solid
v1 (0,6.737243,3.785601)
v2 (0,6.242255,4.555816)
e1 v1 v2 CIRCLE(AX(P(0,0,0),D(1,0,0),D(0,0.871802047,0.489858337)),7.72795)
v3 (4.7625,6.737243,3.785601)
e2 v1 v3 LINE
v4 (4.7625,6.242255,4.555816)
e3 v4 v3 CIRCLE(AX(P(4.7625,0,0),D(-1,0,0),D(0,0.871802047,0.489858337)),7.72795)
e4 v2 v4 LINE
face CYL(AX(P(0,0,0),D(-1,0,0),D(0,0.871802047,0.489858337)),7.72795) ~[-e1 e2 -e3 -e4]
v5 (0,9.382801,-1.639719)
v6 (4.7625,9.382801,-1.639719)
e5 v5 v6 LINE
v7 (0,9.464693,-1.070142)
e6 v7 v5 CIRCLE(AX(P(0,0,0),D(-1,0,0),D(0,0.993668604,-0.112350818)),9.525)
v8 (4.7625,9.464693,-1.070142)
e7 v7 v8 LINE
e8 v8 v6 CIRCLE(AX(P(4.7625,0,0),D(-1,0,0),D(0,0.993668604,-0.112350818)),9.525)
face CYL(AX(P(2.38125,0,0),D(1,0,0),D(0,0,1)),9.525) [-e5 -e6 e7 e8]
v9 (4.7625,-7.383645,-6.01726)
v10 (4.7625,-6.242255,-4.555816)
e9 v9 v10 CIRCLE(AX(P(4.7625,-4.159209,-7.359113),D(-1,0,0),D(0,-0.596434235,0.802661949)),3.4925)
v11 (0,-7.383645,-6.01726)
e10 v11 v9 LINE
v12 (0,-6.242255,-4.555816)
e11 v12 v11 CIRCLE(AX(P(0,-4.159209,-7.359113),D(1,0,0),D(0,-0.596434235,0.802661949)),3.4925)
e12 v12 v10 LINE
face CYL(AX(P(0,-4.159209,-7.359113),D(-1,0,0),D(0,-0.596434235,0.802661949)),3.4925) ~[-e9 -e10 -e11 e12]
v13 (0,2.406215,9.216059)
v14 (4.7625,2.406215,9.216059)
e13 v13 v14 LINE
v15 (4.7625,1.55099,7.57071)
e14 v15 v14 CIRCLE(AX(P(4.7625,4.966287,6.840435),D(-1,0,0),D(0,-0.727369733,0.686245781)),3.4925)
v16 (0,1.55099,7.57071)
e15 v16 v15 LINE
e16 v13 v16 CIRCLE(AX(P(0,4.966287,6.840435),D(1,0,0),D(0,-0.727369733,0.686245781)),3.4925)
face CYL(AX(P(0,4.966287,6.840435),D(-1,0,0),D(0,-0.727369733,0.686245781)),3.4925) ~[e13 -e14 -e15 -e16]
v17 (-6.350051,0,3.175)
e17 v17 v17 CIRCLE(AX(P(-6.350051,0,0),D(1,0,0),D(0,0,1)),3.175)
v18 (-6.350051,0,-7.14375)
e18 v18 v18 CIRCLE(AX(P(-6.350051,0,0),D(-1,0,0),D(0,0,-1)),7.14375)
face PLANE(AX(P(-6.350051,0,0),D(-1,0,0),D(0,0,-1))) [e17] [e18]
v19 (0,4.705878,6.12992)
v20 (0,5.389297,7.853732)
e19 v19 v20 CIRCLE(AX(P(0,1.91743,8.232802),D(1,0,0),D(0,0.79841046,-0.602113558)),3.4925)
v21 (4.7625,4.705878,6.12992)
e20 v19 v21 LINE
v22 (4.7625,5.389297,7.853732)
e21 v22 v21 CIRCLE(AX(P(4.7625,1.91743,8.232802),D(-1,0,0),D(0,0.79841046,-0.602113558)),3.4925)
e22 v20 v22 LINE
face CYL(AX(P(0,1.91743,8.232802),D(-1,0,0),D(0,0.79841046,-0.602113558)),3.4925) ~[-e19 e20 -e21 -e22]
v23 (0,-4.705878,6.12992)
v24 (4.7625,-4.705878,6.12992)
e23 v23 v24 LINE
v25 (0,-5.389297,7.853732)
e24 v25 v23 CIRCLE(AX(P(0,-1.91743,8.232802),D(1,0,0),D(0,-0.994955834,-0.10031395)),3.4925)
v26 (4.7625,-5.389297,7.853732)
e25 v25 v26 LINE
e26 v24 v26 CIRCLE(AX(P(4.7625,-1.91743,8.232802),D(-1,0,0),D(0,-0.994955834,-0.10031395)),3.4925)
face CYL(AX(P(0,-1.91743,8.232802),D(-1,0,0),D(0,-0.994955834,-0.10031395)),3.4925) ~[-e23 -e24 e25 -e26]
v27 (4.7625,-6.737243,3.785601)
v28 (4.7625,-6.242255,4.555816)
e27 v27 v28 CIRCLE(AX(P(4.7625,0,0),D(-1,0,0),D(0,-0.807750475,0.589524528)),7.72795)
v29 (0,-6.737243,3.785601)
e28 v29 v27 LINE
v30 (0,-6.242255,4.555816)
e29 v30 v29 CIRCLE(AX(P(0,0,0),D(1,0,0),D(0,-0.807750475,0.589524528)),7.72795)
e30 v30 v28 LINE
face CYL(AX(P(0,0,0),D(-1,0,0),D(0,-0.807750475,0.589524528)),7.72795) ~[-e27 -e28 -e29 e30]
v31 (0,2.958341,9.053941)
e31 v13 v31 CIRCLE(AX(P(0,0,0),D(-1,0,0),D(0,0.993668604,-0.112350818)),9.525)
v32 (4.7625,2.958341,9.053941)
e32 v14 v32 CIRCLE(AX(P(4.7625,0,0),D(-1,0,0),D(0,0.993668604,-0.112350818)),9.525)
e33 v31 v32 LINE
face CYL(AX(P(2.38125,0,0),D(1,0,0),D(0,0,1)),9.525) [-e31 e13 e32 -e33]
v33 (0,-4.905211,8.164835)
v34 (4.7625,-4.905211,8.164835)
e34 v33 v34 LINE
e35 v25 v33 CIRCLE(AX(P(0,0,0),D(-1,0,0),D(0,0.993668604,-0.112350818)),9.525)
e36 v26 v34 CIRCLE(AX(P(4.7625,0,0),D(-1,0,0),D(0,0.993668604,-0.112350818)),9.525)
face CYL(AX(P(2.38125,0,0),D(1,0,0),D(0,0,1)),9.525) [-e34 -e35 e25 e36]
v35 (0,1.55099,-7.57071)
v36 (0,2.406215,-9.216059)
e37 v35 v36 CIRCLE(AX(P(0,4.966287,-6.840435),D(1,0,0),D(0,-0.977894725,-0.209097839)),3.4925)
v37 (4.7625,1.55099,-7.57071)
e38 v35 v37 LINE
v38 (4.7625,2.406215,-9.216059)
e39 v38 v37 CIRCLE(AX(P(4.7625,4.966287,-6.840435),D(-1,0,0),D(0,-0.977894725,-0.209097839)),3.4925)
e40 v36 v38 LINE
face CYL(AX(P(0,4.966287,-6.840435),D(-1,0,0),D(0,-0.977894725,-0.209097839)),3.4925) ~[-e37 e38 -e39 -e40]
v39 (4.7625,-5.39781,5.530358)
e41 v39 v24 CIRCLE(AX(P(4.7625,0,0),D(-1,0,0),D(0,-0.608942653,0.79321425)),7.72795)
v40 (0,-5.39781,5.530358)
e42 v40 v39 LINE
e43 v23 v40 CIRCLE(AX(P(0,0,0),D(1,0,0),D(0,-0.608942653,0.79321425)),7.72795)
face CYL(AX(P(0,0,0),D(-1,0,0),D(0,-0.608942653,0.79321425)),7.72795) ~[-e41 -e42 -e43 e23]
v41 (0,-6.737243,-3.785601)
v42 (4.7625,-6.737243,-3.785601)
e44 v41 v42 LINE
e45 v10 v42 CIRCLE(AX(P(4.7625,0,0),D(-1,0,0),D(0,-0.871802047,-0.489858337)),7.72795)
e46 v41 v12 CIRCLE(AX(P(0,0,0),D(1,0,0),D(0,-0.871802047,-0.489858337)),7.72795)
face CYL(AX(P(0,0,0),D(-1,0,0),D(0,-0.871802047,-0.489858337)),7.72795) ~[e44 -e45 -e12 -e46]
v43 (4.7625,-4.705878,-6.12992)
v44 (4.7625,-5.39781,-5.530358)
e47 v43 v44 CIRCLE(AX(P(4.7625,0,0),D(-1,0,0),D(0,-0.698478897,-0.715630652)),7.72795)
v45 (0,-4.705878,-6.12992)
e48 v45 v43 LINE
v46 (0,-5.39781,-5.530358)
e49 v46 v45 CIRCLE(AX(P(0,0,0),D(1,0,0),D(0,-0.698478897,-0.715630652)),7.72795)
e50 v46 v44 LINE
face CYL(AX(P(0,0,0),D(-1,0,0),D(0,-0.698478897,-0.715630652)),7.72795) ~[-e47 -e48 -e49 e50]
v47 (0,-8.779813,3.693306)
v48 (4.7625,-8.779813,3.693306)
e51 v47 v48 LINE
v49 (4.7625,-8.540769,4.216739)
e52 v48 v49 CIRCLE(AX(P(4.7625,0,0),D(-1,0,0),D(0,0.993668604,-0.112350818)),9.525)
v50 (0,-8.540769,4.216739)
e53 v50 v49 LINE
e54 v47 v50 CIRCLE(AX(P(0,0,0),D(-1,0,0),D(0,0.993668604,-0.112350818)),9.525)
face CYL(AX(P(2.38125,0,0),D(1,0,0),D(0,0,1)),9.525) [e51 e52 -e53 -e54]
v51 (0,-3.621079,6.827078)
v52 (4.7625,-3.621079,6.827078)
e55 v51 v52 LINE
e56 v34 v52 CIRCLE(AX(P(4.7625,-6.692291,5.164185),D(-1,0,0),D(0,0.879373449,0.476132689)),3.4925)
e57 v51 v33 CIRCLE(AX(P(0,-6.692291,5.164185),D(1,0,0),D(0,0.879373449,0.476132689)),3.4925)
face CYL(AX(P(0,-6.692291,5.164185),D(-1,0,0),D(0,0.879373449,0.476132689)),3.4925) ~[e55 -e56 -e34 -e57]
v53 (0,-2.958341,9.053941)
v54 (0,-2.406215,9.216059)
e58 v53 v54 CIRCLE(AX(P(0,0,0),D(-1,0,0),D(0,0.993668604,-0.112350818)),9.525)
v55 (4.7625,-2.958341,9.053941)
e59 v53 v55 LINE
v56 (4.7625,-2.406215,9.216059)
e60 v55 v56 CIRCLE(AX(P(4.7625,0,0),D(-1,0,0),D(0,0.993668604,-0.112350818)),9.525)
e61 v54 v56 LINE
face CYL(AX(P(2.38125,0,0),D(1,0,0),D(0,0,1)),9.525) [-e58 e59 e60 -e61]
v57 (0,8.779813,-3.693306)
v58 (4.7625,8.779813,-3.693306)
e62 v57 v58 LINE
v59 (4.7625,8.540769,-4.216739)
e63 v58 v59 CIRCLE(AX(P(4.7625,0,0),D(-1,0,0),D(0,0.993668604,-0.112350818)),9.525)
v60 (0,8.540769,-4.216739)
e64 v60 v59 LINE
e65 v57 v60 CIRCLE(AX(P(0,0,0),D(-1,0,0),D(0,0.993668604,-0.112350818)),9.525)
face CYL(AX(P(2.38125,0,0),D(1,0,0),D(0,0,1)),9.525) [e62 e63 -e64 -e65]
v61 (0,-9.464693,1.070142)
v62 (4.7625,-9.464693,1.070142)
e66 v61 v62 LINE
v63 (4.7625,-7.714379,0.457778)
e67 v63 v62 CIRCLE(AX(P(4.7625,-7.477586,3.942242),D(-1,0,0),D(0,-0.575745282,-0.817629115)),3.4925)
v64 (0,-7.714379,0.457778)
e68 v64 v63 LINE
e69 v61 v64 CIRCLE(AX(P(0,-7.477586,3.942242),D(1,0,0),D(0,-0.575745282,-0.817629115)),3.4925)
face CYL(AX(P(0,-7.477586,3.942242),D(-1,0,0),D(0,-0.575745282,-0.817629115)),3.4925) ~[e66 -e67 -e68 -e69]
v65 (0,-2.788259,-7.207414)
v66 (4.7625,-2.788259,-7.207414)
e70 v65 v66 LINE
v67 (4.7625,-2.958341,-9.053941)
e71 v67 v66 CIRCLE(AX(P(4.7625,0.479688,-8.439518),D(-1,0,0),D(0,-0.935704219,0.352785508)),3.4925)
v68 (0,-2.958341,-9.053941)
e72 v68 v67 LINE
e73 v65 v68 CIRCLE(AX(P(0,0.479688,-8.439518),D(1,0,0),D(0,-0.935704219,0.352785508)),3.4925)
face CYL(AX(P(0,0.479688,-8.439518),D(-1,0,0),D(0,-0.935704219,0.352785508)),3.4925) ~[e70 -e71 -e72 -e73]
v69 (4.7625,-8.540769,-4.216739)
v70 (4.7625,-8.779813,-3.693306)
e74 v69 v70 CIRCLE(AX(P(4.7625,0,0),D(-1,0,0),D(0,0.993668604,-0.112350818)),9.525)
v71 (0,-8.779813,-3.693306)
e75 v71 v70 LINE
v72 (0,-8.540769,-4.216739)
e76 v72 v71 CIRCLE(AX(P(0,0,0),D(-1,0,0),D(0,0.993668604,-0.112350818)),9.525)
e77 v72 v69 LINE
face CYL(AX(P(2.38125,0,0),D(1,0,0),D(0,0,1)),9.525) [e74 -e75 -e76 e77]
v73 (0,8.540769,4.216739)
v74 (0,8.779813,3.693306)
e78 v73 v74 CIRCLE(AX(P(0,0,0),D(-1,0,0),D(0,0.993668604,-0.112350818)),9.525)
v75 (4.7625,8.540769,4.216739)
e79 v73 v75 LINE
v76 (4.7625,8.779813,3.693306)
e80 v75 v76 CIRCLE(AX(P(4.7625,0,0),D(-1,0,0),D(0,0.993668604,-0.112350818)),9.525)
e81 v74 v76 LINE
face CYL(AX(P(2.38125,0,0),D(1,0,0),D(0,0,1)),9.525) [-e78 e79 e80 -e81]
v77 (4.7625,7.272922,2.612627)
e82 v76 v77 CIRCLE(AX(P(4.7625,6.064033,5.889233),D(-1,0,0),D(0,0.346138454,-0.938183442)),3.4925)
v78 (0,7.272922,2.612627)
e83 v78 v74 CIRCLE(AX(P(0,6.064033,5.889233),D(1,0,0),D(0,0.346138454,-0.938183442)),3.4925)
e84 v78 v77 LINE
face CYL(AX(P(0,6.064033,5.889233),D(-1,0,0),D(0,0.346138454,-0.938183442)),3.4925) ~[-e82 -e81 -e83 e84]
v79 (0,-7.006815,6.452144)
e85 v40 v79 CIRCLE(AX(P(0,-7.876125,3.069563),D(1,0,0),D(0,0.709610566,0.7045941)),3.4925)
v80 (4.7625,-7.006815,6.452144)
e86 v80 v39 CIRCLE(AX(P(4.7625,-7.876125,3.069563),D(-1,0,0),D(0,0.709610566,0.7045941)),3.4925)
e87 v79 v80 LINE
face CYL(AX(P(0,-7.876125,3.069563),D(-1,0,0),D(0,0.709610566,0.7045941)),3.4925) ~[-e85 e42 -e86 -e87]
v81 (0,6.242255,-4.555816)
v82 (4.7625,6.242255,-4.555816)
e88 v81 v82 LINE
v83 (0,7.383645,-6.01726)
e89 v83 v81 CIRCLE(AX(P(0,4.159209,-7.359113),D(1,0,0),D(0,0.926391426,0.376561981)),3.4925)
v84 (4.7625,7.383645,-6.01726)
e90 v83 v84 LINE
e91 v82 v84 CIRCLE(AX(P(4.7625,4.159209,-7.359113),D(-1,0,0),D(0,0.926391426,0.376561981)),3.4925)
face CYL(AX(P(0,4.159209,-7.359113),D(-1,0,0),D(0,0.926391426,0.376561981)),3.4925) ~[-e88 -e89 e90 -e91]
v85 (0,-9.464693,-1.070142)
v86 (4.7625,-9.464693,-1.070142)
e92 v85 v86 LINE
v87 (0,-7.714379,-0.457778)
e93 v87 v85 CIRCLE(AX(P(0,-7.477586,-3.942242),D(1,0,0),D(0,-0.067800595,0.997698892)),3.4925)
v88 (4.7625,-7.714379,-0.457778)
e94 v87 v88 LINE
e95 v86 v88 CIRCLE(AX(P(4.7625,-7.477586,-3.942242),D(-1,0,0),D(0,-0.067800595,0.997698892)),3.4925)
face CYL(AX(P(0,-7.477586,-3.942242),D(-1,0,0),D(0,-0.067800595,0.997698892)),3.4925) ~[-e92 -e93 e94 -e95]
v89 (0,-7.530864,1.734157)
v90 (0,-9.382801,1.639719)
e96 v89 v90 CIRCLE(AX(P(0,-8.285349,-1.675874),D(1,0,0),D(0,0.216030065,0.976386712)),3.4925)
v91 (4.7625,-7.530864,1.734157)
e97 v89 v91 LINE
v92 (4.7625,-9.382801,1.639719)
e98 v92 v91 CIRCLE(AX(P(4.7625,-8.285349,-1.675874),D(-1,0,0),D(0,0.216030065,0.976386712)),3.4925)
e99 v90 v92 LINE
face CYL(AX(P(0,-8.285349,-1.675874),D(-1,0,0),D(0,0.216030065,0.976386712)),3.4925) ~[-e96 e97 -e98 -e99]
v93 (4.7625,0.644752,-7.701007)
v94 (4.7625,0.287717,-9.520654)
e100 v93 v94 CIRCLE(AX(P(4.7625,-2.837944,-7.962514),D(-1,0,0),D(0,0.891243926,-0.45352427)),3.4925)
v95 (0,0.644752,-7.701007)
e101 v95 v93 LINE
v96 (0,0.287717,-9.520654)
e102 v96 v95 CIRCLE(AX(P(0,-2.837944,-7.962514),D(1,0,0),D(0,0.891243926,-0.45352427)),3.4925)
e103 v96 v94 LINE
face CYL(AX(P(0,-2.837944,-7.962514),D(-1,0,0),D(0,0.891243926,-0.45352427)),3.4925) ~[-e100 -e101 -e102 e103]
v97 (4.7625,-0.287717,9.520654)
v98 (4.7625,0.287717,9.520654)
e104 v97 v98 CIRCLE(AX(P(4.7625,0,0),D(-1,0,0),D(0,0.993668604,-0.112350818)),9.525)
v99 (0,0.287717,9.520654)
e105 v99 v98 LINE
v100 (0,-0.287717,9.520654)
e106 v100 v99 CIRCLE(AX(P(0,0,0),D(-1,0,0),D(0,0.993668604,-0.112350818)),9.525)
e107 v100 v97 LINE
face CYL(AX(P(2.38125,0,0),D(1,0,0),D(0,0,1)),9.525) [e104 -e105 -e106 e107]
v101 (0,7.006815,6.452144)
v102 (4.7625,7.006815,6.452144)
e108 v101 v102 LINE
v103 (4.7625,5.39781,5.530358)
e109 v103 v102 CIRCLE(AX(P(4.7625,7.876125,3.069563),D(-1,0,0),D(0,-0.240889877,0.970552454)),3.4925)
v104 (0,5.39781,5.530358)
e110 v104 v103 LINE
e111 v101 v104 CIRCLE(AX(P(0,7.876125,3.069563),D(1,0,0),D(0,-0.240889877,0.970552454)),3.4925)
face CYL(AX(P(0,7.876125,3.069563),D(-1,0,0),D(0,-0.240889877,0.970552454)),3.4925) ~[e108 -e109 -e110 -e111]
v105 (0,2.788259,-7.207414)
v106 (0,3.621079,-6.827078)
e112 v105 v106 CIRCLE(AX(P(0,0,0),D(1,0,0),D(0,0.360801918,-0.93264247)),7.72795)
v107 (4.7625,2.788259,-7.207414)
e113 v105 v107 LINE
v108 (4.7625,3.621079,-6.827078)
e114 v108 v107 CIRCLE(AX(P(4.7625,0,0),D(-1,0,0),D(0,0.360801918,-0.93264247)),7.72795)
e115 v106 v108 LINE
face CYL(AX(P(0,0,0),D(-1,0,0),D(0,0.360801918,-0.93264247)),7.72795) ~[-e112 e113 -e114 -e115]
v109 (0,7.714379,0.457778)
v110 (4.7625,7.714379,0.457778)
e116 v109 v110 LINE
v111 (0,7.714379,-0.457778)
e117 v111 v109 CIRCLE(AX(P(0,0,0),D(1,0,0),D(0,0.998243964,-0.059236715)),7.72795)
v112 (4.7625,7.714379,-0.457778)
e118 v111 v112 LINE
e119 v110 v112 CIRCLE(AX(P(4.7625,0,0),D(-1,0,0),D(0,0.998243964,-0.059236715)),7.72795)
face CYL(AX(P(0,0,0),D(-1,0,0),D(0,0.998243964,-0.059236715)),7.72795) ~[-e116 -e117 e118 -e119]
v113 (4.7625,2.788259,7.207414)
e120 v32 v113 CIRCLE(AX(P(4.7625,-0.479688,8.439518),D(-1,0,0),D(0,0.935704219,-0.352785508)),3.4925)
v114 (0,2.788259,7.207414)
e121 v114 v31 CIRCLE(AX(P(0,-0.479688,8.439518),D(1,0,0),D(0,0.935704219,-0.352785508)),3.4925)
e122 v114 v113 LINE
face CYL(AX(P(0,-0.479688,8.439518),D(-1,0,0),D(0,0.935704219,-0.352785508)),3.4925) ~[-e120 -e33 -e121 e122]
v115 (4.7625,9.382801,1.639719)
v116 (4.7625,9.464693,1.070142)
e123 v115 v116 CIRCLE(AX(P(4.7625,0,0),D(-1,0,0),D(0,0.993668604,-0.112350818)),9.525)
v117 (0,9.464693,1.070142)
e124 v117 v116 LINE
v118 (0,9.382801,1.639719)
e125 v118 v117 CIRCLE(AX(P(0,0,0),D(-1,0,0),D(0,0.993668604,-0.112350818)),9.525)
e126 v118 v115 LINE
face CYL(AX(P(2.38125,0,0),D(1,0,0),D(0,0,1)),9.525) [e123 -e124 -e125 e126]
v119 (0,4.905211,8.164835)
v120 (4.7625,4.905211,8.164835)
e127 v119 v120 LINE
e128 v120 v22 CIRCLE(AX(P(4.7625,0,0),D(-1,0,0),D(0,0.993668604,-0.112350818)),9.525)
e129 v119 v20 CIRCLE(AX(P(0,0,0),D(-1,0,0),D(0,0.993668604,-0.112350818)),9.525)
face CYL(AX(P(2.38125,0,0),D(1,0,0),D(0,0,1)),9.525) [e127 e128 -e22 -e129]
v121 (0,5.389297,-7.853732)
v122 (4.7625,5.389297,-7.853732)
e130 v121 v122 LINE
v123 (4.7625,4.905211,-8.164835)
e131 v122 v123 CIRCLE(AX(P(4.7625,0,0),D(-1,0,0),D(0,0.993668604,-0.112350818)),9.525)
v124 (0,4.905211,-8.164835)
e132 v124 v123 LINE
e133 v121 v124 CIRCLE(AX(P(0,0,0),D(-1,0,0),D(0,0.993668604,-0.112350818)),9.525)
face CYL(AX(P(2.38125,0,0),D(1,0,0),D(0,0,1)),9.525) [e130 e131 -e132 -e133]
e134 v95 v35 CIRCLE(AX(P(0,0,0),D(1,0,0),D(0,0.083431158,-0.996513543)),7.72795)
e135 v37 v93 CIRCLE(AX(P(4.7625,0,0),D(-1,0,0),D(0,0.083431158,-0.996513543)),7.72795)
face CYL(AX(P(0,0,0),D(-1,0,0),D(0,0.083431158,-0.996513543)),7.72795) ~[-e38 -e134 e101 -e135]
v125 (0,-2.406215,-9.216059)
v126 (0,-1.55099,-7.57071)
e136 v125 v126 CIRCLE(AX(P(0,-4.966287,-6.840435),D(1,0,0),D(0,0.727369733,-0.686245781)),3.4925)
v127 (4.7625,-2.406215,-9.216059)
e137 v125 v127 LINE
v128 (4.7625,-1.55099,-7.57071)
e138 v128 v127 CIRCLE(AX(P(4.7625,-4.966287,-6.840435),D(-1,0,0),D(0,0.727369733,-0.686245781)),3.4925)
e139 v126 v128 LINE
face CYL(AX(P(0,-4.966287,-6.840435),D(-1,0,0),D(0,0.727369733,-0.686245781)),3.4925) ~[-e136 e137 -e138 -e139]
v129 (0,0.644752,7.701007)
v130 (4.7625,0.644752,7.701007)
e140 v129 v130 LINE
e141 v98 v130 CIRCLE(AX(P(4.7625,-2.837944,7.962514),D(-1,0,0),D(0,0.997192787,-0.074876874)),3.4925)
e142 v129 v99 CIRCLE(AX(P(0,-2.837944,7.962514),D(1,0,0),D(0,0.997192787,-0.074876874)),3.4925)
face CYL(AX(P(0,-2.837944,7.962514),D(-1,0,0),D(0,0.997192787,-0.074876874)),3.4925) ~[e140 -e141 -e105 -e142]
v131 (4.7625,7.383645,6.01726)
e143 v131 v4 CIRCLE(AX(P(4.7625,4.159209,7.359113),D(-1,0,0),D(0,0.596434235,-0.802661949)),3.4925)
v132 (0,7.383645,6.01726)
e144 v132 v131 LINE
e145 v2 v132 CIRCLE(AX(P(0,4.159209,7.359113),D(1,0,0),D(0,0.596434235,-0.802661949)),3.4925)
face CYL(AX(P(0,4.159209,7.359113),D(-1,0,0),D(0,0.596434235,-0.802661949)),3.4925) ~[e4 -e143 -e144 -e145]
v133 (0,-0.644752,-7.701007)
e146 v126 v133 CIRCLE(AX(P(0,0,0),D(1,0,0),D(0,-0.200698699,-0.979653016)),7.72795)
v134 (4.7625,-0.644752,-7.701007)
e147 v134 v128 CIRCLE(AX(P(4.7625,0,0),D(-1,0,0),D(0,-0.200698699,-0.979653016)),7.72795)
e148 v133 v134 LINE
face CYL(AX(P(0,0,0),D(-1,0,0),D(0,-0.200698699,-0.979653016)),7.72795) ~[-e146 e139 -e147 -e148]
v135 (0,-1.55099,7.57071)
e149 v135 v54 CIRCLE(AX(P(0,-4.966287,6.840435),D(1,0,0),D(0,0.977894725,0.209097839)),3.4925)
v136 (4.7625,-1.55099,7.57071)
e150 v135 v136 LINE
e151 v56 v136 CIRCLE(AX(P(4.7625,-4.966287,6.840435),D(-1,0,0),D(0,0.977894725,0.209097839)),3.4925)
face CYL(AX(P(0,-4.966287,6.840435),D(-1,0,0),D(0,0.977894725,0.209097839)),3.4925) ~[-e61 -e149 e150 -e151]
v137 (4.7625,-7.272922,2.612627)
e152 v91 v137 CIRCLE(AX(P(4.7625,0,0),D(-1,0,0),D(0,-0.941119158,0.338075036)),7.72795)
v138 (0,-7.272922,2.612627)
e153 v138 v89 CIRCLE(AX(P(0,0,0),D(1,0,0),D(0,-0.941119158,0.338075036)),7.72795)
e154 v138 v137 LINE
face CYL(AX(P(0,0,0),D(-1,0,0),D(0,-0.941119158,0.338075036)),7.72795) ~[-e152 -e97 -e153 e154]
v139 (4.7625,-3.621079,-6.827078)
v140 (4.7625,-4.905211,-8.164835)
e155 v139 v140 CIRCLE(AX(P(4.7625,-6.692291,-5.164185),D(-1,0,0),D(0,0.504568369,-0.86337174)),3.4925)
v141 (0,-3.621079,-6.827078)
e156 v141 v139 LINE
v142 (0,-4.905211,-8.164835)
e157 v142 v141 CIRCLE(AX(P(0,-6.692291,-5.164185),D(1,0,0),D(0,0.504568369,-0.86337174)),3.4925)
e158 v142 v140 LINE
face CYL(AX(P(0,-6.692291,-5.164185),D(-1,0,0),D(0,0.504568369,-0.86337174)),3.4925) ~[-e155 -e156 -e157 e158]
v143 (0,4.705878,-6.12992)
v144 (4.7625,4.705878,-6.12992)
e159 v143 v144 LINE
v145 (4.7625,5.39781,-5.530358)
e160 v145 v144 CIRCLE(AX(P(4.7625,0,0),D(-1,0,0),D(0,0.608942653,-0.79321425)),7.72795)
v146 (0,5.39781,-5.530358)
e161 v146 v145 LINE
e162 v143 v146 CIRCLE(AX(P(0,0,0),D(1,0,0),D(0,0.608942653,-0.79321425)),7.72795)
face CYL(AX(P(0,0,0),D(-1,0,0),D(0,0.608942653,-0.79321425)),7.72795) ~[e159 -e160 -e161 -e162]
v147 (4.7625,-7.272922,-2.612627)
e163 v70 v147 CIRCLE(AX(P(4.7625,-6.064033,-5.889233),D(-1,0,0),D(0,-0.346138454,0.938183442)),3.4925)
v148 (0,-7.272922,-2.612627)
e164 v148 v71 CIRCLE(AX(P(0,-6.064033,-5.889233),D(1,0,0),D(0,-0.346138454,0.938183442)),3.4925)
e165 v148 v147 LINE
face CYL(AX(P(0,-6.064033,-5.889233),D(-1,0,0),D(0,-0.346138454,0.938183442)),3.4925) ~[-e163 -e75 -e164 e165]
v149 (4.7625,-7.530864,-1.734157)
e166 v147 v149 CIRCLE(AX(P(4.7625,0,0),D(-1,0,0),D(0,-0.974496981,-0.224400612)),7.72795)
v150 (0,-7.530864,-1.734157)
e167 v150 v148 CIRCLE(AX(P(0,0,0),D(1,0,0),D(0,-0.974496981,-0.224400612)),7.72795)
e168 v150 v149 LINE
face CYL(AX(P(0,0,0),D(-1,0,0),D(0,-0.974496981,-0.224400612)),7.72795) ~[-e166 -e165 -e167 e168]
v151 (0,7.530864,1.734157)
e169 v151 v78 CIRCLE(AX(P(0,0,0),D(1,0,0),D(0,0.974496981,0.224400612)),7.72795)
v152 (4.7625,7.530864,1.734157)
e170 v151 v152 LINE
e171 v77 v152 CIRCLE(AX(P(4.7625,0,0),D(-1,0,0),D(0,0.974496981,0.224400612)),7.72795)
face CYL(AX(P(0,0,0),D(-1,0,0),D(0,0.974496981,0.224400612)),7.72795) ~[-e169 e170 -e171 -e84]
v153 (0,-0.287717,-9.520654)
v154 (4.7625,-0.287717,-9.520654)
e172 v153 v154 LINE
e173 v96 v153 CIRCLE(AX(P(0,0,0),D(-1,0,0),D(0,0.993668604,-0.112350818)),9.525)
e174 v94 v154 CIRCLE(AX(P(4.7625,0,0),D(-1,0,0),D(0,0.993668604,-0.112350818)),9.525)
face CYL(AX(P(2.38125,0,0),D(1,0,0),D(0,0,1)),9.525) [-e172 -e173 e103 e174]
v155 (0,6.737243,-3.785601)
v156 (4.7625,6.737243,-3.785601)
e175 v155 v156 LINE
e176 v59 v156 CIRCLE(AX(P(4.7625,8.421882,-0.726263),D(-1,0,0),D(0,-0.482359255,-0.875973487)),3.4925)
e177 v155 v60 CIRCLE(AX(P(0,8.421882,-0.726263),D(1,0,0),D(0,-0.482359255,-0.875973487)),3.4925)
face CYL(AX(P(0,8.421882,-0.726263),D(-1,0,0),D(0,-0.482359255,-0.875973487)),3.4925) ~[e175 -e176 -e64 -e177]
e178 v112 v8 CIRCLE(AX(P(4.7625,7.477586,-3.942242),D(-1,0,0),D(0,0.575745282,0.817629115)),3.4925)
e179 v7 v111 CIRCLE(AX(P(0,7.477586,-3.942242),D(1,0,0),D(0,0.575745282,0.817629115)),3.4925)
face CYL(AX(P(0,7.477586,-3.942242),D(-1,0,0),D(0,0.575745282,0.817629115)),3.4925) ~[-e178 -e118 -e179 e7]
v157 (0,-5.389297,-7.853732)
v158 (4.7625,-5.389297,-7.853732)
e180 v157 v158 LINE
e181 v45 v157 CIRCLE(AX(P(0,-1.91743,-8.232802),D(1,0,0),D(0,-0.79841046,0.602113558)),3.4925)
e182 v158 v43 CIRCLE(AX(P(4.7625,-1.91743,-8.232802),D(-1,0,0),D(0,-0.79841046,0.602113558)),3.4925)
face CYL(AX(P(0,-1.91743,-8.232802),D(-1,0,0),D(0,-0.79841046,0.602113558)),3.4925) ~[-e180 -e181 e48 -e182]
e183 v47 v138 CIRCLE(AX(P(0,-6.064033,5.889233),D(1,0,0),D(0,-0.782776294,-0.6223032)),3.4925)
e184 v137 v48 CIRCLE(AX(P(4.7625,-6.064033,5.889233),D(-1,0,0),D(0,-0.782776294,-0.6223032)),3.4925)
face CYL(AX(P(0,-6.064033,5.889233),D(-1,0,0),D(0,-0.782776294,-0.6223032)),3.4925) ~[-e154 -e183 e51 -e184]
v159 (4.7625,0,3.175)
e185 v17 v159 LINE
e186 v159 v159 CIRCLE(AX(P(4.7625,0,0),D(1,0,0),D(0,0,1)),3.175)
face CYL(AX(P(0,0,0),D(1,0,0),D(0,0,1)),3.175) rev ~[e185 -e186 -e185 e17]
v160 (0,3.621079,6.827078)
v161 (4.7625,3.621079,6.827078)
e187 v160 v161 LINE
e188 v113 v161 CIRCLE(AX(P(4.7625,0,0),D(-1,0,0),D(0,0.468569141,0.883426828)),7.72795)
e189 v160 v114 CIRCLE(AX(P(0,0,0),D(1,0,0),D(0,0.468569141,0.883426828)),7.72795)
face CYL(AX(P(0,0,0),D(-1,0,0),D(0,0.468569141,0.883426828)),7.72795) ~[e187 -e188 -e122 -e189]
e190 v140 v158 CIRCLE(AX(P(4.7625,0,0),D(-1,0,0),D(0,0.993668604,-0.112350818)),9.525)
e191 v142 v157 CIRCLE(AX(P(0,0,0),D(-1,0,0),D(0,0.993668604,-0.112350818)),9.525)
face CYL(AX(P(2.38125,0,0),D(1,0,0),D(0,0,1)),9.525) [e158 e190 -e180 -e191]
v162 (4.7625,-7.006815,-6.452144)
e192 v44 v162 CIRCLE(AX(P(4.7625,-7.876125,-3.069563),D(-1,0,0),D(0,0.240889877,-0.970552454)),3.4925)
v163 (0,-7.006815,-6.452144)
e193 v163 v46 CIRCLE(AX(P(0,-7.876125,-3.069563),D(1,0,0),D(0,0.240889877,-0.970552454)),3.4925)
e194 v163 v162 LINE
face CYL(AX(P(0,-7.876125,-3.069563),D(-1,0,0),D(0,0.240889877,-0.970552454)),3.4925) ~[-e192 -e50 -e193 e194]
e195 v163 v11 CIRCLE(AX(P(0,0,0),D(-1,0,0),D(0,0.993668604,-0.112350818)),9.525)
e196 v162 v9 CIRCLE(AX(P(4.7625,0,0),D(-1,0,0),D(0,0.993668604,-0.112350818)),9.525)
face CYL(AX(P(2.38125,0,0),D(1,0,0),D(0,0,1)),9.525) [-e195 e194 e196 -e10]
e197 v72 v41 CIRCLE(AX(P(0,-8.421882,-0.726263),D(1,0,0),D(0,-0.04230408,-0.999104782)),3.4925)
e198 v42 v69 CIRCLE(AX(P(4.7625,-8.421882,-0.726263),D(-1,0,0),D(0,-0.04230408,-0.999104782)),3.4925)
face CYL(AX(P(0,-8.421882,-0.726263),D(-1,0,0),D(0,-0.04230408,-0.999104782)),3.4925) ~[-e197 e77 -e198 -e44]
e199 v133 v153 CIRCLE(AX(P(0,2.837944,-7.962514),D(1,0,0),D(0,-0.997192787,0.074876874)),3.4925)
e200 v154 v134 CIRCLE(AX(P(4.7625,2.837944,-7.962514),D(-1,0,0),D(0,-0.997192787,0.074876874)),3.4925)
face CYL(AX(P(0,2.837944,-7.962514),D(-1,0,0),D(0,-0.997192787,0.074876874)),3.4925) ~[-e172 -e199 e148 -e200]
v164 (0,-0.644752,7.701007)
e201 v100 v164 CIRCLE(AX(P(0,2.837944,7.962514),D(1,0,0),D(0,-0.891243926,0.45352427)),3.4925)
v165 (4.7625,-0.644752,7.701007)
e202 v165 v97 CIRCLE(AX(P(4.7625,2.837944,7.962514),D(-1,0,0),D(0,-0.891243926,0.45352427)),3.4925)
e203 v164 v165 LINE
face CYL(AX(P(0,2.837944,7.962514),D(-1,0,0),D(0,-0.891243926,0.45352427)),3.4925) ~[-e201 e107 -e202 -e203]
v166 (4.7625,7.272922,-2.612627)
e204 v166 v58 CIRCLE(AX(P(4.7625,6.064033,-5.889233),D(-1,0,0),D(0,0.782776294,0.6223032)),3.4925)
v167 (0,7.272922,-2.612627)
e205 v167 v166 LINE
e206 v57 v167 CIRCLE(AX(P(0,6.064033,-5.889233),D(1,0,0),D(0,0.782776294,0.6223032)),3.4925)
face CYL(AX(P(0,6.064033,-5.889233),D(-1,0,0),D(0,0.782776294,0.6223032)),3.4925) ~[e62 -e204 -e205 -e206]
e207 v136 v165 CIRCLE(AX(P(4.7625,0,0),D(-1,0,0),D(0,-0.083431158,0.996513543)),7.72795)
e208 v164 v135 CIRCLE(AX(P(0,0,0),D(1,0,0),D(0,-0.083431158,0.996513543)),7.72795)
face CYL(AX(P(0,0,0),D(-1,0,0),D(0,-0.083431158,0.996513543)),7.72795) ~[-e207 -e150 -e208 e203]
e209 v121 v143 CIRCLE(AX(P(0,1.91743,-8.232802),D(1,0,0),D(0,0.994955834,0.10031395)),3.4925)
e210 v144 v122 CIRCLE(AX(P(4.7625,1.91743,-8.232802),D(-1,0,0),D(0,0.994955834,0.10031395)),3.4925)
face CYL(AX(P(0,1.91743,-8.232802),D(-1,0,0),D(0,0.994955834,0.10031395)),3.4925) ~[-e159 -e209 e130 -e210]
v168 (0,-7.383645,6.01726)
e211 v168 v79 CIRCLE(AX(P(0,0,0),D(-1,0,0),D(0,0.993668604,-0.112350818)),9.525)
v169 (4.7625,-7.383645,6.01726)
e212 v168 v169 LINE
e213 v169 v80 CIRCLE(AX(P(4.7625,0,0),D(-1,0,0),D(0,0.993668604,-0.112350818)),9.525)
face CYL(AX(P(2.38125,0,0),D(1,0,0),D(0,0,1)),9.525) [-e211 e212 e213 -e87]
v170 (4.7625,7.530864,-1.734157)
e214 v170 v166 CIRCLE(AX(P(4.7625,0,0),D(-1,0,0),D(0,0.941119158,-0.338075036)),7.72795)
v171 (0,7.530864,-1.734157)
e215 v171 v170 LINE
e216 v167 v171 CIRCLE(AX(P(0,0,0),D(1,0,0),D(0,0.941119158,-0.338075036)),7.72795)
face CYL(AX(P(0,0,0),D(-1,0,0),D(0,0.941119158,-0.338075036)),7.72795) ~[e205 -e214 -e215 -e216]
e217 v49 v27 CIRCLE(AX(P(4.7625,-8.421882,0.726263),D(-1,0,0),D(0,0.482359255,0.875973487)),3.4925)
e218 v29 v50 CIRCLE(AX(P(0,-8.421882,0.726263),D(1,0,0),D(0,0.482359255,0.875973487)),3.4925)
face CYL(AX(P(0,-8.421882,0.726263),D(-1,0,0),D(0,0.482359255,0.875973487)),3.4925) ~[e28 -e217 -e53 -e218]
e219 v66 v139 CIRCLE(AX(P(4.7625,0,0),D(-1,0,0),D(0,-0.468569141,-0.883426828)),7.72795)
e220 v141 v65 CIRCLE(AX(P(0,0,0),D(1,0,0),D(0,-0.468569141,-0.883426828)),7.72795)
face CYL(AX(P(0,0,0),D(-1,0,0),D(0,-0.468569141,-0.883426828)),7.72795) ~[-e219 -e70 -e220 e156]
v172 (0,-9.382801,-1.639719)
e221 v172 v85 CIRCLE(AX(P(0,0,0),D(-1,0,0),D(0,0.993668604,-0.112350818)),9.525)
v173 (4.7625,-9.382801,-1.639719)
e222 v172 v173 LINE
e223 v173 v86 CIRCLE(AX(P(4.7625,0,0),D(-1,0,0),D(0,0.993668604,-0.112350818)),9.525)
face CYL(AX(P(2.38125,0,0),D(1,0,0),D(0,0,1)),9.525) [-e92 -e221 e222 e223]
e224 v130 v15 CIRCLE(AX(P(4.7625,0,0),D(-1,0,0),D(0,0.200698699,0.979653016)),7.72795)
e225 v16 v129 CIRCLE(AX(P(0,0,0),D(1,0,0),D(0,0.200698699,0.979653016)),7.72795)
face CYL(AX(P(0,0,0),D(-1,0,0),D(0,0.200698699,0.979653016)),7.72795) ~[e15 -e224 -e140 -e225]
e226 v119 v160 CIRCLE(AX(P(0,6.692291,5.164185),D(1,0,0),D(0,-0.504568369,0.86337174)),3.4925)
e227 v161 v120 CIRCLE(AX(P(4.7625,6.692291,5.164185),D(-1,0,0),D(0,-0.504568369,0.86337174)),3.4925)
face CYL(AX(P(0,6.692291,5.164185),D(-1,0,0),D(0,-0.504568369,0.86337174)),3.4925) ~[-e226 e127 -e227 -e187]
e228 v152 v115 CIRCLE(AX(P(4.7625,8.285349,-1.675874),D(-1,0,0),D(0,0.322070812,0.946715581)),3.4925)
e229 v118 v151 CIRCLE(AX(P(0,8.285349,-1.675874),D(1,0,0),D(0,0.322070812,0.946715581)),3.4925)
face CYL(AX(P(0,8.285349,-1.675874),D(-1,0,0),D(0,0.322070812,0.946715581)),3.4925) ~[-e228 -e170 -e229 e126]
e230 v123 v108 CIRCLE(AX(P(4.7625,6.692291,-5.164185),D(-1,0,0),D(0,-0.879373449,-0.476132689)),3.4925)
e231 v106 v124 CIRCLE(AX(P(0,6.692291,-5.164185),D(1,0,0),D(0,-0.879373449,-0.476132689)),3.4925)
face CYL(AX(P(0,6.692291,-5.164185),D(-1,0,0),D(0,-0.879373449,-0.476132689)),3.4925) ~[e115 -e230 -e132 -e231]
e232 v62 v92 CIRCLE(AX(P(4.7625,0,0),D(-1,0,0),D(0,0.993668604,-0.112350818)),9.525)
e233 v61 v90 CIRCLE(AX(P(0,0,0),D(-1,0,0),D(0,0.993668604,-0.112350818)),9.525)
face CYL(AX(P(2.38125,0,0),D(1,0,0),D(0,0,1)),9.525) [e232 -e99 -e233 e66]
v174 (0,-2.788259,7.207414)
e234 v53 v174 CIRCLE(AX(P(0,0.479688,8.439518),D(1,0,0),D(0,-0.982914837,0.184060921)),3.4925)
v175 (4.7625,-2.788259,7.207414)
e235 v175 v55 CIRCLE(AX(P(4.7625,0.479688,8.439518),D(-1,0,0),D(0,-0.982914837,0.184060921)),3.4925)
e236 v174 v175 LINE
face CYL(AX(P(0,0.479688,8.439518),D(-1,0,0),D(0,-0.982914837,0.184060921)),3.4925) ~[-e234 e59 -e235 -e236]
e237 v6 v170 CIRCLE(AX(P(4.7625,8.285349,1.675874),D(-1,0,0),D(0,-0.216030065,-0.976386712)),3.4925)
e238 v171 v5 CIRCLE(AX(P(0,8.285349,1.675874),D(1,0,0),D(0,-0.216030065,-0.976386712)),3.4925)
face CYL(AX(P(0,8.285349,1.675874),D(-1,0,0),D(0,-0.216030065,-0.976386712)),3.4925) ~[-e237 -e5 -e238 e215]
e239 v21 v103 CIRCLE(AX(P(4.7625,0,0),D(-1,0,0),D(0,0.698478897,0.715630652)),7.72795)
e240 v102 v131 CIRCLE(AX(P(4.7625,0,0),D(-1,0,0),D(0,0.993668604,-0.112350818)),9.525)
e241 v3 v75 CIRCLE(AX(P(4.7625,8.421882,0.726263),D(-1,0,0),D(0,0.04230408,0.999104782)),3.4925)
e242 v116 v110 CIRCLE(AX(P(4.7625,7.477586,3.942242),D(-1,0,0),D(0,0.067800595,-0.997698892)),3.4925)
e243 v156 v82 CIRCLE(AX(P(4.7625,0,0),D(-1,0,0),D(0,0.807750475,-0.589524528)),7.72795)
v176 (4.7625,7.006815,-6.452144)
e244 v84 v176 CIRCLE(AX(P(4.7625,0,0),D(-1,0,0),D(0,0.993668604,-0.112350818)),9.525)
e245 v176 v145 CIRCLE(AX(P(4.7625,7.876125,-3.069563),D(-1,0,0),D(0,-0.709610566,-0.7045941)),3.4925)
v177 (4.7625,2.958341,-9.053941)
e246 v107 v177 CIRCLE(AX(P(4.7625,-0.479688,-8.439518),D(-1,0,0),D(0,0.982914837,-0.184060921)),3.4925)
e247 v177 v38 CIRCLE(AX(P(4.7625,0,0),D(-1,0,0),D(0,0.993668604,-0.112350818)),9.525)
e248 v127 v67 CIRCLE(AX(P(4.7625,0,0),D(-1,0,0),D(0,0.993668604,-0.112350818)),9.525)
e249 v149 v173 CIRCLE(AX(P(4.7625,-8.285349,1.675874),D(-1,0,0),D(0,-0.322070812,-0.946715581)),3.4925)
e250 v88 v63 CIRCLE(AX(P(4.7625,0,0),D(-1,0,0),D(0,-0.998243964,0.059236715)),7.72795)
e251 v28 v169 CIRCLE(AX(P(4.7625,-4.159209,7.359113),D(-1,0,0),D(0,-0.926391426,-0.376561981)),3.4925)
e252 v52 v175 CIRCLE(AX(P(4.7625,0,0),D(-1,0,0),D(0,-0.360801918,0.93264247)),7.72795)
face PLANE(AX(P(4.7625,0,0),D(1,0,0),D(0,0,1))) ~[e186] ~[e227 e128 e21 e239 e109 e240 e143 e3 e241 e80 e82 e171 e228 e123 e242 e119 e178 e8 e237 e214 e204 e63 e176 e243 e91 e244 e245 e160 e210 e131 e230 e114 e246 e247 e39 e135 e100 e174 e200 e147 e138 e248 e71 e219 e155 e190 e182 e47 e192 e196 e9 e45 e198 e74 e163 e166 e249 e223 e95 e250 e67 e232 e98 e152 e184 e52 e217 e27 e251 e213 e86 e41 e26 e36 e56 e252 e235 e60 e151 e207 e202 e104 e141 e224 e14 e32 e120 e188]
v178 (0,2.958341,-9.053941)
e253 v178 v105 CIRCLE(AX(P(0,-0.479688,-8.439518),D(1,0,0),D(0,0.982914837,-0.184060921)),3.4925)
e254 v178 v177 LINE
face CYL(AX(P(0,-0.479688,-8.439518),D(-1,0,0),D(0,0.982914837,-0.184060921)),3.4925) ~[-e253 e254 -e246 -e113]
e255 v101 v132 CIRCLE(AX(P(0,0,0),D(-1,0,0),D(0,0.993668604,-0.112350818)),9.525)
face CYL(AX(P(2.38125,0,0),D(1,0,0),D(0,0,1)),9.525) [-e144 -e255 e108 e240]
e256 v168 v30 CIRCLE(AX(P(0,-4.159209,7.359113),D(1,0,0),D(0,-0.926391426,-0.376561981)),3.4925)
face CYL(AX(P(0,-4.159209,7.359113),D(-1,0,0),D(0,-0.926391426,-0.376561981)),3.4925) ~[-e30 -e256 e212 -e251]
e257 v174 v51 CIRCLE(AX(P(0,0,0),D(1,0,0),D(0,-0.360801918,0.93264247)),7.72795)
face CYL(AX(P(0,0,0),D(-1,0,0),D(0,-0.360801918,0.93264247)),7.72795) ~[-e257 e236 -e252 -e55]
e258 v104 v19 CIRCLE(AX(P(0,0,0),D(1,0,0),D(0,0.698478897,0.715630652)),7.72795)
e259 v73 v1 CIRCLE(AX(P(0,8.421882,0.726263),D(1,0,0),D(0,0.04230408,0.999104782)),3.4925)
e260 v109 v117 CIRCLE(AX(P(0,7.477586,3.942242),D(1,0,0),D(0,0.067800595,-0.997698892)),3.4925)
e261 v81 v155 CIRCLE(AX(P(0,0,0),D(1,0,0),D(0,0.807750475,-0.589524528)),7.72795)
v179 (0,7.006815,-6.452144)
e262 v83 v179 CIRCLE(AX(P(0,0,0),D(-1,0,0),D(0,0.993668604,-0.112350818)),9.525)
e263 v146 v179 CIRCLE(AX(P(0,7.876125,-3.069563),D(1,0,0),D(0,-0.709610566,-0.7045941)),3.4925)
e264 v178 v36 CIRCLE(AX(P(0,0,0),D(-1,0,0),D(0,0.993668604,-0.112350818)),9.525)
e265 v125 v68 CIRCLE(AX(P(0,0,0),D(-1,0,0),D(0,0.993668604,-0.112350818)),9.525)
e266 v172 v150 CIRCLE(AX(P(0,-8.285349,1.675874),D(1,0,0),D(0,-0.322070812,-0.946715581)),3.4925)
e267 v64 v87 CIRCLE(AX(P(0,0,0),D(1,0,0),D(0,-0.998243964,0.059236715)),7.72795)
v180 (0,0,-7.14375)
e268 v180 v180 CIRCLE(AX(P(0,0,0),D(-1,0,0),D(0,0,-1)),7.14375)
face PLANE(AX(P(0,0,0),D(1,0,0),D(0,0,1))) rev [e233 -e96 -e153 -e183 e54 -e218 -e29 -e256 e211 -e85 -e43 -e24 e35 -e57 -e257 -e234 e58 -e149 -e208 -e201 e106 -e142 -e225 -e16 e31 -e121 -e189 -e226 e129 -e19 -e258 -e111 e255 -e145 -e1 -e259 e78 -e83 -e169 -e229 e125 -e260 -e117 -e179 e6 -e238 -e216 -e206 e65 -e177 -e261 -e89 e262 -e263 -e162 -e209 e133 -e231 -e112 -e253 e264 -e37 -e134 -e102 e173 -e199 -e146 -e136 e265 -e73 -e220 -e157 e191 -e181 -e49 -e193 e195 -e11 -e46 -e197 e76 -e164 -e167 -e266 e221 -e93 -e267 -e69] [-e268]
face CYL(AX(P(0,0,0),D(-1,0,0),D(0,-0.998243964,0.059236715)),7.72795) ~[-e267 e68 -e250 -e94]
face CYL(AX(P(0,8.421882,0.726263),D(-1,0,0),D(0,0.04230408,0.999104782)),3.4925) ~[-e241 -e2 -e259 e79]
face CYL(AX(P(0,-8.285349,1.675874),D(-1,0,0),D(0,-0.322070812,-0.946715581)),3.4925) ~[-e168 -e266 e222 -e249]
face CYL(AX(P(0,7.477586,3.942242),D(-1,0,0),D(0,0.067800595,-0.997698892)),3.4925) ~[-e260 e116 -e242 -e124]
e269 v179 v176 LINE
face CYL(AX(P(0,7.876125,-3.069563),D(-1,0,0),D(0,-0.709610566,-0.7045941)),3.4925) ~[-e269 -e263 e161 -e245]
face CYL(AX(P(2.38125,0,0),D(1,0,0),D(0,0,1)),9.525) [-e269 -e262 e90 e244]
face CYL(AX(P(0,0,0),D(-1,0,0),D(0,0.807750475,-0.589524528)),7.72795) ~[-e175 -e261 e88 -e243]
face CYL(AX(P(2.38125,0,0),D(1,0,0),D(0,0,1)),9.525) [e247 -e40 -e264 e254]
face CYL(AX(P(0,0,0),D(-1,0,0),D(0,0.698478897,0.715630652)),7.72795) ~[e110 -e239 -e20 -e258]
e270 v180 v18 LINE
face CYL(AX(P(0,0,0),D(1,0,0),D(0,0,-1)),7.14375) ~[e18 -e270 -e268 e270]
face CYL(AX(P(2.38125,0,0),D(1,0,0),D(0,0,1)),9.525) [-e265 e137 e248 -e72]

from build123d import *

# Parameters (mm, degrees)
BASPROSKE_W      = 4.7625
BASPROSKE_H      = 9.525
TOOTHCUT_DEPTH   = 15.2875
TEETHCUTS_COUNT  = 22
TEETHCUTS_ANGLE  = 343.636363636
HUBNEAONESKE_R   = 7.14375
HUBNEARONE_DEPTH = 6.3500508
BORSKE_R         = 3.175
BORE_DEPTH       = 11.1125508


with BuildPart() as part:
    # BasProSke → Base-Revolve (revolve)
    with BuildSketch(Plane(origin=(0, 0, 0), x_dir=(1, 0, 0), z_dir=(0, 1, 0)), mode=Mode.PRIVATE) as base_revolve_sk:
        with Locations((2.38125, 4.7625)):
            Rectangle(BASPROSKE_W, BASPROSKE_H)
    revolve(base_revolve_sk.sketch.rotate(Axis((-10, 0, 0), (1, 0, 0)), 180), axis=Axis((-10, 0, 0), (1, 0, 0)))

    # TooCutSke → ToothCut (cut, through all)
    with BuildSketch(Plane(origin=(0, 0, 0), x_dir=(0, 0, -1), z_dir=(1, 0, 0))):
        with BuildLine():
            ThreePointArc((0.457778383, 7.714379441), (0, 7.72795), (-0.457778383, 7.714379441))
            ThreePointArc((-0.457778383, 7.714379441), (-0.650468533, 8.644541408), (-1.086672077, 9.488376255))
            ThreePointArc((-1.086672077, 9.488376255), (0, 9.5504), (1.086672077, 9.488376255))
            ThreePointArc((1.086672077, 9.488376255), (0.650468533, 8.644541408), (0.457778383, 7.714379441))
        make_face()
    toothcut = extrude(amount=TOOTHCUT_DEPTH, mode=Mode.SUBTRACT)

    # TeethCuts: ToothCut ×22 about axis
    teethcuts_axis = Axis((-10, 0, 0), (1, 0, 0))
    for i in range(1, TEETHCUTS_COUNT):
        add(toothcut.rotate(teethcuts_axis, i * TEETHCUTS_ANGLE / (TEETHCUTS_COUNT - 1)), mode=Mode.SUBTRACT)

    # HubNeaOneSke → HubNearOne (add)
    with BuildSketch(Plane.ZY):
        with Locations(Location((0, 0, 0), (0, 0, 180))):
            Circle(HUBNEAONESKE_R)
    extrude(amount=HUBNEARONE_DEPTH)

    # BorSke → Bore (cut, symmetric)
    with BuildSketch(Plane(origin=(0, 0, 0), x_dir=(0, 0, -1), z_dir=(1, 0, 0))):
        with Locations(Location((0, 0, 0), (0, 0, 180))):
            Circle(BORSKE_R)
    extrude(amount=BORE_DEPTH, both=True, mode=Mode.SUBTRACT)


solid = part.part
